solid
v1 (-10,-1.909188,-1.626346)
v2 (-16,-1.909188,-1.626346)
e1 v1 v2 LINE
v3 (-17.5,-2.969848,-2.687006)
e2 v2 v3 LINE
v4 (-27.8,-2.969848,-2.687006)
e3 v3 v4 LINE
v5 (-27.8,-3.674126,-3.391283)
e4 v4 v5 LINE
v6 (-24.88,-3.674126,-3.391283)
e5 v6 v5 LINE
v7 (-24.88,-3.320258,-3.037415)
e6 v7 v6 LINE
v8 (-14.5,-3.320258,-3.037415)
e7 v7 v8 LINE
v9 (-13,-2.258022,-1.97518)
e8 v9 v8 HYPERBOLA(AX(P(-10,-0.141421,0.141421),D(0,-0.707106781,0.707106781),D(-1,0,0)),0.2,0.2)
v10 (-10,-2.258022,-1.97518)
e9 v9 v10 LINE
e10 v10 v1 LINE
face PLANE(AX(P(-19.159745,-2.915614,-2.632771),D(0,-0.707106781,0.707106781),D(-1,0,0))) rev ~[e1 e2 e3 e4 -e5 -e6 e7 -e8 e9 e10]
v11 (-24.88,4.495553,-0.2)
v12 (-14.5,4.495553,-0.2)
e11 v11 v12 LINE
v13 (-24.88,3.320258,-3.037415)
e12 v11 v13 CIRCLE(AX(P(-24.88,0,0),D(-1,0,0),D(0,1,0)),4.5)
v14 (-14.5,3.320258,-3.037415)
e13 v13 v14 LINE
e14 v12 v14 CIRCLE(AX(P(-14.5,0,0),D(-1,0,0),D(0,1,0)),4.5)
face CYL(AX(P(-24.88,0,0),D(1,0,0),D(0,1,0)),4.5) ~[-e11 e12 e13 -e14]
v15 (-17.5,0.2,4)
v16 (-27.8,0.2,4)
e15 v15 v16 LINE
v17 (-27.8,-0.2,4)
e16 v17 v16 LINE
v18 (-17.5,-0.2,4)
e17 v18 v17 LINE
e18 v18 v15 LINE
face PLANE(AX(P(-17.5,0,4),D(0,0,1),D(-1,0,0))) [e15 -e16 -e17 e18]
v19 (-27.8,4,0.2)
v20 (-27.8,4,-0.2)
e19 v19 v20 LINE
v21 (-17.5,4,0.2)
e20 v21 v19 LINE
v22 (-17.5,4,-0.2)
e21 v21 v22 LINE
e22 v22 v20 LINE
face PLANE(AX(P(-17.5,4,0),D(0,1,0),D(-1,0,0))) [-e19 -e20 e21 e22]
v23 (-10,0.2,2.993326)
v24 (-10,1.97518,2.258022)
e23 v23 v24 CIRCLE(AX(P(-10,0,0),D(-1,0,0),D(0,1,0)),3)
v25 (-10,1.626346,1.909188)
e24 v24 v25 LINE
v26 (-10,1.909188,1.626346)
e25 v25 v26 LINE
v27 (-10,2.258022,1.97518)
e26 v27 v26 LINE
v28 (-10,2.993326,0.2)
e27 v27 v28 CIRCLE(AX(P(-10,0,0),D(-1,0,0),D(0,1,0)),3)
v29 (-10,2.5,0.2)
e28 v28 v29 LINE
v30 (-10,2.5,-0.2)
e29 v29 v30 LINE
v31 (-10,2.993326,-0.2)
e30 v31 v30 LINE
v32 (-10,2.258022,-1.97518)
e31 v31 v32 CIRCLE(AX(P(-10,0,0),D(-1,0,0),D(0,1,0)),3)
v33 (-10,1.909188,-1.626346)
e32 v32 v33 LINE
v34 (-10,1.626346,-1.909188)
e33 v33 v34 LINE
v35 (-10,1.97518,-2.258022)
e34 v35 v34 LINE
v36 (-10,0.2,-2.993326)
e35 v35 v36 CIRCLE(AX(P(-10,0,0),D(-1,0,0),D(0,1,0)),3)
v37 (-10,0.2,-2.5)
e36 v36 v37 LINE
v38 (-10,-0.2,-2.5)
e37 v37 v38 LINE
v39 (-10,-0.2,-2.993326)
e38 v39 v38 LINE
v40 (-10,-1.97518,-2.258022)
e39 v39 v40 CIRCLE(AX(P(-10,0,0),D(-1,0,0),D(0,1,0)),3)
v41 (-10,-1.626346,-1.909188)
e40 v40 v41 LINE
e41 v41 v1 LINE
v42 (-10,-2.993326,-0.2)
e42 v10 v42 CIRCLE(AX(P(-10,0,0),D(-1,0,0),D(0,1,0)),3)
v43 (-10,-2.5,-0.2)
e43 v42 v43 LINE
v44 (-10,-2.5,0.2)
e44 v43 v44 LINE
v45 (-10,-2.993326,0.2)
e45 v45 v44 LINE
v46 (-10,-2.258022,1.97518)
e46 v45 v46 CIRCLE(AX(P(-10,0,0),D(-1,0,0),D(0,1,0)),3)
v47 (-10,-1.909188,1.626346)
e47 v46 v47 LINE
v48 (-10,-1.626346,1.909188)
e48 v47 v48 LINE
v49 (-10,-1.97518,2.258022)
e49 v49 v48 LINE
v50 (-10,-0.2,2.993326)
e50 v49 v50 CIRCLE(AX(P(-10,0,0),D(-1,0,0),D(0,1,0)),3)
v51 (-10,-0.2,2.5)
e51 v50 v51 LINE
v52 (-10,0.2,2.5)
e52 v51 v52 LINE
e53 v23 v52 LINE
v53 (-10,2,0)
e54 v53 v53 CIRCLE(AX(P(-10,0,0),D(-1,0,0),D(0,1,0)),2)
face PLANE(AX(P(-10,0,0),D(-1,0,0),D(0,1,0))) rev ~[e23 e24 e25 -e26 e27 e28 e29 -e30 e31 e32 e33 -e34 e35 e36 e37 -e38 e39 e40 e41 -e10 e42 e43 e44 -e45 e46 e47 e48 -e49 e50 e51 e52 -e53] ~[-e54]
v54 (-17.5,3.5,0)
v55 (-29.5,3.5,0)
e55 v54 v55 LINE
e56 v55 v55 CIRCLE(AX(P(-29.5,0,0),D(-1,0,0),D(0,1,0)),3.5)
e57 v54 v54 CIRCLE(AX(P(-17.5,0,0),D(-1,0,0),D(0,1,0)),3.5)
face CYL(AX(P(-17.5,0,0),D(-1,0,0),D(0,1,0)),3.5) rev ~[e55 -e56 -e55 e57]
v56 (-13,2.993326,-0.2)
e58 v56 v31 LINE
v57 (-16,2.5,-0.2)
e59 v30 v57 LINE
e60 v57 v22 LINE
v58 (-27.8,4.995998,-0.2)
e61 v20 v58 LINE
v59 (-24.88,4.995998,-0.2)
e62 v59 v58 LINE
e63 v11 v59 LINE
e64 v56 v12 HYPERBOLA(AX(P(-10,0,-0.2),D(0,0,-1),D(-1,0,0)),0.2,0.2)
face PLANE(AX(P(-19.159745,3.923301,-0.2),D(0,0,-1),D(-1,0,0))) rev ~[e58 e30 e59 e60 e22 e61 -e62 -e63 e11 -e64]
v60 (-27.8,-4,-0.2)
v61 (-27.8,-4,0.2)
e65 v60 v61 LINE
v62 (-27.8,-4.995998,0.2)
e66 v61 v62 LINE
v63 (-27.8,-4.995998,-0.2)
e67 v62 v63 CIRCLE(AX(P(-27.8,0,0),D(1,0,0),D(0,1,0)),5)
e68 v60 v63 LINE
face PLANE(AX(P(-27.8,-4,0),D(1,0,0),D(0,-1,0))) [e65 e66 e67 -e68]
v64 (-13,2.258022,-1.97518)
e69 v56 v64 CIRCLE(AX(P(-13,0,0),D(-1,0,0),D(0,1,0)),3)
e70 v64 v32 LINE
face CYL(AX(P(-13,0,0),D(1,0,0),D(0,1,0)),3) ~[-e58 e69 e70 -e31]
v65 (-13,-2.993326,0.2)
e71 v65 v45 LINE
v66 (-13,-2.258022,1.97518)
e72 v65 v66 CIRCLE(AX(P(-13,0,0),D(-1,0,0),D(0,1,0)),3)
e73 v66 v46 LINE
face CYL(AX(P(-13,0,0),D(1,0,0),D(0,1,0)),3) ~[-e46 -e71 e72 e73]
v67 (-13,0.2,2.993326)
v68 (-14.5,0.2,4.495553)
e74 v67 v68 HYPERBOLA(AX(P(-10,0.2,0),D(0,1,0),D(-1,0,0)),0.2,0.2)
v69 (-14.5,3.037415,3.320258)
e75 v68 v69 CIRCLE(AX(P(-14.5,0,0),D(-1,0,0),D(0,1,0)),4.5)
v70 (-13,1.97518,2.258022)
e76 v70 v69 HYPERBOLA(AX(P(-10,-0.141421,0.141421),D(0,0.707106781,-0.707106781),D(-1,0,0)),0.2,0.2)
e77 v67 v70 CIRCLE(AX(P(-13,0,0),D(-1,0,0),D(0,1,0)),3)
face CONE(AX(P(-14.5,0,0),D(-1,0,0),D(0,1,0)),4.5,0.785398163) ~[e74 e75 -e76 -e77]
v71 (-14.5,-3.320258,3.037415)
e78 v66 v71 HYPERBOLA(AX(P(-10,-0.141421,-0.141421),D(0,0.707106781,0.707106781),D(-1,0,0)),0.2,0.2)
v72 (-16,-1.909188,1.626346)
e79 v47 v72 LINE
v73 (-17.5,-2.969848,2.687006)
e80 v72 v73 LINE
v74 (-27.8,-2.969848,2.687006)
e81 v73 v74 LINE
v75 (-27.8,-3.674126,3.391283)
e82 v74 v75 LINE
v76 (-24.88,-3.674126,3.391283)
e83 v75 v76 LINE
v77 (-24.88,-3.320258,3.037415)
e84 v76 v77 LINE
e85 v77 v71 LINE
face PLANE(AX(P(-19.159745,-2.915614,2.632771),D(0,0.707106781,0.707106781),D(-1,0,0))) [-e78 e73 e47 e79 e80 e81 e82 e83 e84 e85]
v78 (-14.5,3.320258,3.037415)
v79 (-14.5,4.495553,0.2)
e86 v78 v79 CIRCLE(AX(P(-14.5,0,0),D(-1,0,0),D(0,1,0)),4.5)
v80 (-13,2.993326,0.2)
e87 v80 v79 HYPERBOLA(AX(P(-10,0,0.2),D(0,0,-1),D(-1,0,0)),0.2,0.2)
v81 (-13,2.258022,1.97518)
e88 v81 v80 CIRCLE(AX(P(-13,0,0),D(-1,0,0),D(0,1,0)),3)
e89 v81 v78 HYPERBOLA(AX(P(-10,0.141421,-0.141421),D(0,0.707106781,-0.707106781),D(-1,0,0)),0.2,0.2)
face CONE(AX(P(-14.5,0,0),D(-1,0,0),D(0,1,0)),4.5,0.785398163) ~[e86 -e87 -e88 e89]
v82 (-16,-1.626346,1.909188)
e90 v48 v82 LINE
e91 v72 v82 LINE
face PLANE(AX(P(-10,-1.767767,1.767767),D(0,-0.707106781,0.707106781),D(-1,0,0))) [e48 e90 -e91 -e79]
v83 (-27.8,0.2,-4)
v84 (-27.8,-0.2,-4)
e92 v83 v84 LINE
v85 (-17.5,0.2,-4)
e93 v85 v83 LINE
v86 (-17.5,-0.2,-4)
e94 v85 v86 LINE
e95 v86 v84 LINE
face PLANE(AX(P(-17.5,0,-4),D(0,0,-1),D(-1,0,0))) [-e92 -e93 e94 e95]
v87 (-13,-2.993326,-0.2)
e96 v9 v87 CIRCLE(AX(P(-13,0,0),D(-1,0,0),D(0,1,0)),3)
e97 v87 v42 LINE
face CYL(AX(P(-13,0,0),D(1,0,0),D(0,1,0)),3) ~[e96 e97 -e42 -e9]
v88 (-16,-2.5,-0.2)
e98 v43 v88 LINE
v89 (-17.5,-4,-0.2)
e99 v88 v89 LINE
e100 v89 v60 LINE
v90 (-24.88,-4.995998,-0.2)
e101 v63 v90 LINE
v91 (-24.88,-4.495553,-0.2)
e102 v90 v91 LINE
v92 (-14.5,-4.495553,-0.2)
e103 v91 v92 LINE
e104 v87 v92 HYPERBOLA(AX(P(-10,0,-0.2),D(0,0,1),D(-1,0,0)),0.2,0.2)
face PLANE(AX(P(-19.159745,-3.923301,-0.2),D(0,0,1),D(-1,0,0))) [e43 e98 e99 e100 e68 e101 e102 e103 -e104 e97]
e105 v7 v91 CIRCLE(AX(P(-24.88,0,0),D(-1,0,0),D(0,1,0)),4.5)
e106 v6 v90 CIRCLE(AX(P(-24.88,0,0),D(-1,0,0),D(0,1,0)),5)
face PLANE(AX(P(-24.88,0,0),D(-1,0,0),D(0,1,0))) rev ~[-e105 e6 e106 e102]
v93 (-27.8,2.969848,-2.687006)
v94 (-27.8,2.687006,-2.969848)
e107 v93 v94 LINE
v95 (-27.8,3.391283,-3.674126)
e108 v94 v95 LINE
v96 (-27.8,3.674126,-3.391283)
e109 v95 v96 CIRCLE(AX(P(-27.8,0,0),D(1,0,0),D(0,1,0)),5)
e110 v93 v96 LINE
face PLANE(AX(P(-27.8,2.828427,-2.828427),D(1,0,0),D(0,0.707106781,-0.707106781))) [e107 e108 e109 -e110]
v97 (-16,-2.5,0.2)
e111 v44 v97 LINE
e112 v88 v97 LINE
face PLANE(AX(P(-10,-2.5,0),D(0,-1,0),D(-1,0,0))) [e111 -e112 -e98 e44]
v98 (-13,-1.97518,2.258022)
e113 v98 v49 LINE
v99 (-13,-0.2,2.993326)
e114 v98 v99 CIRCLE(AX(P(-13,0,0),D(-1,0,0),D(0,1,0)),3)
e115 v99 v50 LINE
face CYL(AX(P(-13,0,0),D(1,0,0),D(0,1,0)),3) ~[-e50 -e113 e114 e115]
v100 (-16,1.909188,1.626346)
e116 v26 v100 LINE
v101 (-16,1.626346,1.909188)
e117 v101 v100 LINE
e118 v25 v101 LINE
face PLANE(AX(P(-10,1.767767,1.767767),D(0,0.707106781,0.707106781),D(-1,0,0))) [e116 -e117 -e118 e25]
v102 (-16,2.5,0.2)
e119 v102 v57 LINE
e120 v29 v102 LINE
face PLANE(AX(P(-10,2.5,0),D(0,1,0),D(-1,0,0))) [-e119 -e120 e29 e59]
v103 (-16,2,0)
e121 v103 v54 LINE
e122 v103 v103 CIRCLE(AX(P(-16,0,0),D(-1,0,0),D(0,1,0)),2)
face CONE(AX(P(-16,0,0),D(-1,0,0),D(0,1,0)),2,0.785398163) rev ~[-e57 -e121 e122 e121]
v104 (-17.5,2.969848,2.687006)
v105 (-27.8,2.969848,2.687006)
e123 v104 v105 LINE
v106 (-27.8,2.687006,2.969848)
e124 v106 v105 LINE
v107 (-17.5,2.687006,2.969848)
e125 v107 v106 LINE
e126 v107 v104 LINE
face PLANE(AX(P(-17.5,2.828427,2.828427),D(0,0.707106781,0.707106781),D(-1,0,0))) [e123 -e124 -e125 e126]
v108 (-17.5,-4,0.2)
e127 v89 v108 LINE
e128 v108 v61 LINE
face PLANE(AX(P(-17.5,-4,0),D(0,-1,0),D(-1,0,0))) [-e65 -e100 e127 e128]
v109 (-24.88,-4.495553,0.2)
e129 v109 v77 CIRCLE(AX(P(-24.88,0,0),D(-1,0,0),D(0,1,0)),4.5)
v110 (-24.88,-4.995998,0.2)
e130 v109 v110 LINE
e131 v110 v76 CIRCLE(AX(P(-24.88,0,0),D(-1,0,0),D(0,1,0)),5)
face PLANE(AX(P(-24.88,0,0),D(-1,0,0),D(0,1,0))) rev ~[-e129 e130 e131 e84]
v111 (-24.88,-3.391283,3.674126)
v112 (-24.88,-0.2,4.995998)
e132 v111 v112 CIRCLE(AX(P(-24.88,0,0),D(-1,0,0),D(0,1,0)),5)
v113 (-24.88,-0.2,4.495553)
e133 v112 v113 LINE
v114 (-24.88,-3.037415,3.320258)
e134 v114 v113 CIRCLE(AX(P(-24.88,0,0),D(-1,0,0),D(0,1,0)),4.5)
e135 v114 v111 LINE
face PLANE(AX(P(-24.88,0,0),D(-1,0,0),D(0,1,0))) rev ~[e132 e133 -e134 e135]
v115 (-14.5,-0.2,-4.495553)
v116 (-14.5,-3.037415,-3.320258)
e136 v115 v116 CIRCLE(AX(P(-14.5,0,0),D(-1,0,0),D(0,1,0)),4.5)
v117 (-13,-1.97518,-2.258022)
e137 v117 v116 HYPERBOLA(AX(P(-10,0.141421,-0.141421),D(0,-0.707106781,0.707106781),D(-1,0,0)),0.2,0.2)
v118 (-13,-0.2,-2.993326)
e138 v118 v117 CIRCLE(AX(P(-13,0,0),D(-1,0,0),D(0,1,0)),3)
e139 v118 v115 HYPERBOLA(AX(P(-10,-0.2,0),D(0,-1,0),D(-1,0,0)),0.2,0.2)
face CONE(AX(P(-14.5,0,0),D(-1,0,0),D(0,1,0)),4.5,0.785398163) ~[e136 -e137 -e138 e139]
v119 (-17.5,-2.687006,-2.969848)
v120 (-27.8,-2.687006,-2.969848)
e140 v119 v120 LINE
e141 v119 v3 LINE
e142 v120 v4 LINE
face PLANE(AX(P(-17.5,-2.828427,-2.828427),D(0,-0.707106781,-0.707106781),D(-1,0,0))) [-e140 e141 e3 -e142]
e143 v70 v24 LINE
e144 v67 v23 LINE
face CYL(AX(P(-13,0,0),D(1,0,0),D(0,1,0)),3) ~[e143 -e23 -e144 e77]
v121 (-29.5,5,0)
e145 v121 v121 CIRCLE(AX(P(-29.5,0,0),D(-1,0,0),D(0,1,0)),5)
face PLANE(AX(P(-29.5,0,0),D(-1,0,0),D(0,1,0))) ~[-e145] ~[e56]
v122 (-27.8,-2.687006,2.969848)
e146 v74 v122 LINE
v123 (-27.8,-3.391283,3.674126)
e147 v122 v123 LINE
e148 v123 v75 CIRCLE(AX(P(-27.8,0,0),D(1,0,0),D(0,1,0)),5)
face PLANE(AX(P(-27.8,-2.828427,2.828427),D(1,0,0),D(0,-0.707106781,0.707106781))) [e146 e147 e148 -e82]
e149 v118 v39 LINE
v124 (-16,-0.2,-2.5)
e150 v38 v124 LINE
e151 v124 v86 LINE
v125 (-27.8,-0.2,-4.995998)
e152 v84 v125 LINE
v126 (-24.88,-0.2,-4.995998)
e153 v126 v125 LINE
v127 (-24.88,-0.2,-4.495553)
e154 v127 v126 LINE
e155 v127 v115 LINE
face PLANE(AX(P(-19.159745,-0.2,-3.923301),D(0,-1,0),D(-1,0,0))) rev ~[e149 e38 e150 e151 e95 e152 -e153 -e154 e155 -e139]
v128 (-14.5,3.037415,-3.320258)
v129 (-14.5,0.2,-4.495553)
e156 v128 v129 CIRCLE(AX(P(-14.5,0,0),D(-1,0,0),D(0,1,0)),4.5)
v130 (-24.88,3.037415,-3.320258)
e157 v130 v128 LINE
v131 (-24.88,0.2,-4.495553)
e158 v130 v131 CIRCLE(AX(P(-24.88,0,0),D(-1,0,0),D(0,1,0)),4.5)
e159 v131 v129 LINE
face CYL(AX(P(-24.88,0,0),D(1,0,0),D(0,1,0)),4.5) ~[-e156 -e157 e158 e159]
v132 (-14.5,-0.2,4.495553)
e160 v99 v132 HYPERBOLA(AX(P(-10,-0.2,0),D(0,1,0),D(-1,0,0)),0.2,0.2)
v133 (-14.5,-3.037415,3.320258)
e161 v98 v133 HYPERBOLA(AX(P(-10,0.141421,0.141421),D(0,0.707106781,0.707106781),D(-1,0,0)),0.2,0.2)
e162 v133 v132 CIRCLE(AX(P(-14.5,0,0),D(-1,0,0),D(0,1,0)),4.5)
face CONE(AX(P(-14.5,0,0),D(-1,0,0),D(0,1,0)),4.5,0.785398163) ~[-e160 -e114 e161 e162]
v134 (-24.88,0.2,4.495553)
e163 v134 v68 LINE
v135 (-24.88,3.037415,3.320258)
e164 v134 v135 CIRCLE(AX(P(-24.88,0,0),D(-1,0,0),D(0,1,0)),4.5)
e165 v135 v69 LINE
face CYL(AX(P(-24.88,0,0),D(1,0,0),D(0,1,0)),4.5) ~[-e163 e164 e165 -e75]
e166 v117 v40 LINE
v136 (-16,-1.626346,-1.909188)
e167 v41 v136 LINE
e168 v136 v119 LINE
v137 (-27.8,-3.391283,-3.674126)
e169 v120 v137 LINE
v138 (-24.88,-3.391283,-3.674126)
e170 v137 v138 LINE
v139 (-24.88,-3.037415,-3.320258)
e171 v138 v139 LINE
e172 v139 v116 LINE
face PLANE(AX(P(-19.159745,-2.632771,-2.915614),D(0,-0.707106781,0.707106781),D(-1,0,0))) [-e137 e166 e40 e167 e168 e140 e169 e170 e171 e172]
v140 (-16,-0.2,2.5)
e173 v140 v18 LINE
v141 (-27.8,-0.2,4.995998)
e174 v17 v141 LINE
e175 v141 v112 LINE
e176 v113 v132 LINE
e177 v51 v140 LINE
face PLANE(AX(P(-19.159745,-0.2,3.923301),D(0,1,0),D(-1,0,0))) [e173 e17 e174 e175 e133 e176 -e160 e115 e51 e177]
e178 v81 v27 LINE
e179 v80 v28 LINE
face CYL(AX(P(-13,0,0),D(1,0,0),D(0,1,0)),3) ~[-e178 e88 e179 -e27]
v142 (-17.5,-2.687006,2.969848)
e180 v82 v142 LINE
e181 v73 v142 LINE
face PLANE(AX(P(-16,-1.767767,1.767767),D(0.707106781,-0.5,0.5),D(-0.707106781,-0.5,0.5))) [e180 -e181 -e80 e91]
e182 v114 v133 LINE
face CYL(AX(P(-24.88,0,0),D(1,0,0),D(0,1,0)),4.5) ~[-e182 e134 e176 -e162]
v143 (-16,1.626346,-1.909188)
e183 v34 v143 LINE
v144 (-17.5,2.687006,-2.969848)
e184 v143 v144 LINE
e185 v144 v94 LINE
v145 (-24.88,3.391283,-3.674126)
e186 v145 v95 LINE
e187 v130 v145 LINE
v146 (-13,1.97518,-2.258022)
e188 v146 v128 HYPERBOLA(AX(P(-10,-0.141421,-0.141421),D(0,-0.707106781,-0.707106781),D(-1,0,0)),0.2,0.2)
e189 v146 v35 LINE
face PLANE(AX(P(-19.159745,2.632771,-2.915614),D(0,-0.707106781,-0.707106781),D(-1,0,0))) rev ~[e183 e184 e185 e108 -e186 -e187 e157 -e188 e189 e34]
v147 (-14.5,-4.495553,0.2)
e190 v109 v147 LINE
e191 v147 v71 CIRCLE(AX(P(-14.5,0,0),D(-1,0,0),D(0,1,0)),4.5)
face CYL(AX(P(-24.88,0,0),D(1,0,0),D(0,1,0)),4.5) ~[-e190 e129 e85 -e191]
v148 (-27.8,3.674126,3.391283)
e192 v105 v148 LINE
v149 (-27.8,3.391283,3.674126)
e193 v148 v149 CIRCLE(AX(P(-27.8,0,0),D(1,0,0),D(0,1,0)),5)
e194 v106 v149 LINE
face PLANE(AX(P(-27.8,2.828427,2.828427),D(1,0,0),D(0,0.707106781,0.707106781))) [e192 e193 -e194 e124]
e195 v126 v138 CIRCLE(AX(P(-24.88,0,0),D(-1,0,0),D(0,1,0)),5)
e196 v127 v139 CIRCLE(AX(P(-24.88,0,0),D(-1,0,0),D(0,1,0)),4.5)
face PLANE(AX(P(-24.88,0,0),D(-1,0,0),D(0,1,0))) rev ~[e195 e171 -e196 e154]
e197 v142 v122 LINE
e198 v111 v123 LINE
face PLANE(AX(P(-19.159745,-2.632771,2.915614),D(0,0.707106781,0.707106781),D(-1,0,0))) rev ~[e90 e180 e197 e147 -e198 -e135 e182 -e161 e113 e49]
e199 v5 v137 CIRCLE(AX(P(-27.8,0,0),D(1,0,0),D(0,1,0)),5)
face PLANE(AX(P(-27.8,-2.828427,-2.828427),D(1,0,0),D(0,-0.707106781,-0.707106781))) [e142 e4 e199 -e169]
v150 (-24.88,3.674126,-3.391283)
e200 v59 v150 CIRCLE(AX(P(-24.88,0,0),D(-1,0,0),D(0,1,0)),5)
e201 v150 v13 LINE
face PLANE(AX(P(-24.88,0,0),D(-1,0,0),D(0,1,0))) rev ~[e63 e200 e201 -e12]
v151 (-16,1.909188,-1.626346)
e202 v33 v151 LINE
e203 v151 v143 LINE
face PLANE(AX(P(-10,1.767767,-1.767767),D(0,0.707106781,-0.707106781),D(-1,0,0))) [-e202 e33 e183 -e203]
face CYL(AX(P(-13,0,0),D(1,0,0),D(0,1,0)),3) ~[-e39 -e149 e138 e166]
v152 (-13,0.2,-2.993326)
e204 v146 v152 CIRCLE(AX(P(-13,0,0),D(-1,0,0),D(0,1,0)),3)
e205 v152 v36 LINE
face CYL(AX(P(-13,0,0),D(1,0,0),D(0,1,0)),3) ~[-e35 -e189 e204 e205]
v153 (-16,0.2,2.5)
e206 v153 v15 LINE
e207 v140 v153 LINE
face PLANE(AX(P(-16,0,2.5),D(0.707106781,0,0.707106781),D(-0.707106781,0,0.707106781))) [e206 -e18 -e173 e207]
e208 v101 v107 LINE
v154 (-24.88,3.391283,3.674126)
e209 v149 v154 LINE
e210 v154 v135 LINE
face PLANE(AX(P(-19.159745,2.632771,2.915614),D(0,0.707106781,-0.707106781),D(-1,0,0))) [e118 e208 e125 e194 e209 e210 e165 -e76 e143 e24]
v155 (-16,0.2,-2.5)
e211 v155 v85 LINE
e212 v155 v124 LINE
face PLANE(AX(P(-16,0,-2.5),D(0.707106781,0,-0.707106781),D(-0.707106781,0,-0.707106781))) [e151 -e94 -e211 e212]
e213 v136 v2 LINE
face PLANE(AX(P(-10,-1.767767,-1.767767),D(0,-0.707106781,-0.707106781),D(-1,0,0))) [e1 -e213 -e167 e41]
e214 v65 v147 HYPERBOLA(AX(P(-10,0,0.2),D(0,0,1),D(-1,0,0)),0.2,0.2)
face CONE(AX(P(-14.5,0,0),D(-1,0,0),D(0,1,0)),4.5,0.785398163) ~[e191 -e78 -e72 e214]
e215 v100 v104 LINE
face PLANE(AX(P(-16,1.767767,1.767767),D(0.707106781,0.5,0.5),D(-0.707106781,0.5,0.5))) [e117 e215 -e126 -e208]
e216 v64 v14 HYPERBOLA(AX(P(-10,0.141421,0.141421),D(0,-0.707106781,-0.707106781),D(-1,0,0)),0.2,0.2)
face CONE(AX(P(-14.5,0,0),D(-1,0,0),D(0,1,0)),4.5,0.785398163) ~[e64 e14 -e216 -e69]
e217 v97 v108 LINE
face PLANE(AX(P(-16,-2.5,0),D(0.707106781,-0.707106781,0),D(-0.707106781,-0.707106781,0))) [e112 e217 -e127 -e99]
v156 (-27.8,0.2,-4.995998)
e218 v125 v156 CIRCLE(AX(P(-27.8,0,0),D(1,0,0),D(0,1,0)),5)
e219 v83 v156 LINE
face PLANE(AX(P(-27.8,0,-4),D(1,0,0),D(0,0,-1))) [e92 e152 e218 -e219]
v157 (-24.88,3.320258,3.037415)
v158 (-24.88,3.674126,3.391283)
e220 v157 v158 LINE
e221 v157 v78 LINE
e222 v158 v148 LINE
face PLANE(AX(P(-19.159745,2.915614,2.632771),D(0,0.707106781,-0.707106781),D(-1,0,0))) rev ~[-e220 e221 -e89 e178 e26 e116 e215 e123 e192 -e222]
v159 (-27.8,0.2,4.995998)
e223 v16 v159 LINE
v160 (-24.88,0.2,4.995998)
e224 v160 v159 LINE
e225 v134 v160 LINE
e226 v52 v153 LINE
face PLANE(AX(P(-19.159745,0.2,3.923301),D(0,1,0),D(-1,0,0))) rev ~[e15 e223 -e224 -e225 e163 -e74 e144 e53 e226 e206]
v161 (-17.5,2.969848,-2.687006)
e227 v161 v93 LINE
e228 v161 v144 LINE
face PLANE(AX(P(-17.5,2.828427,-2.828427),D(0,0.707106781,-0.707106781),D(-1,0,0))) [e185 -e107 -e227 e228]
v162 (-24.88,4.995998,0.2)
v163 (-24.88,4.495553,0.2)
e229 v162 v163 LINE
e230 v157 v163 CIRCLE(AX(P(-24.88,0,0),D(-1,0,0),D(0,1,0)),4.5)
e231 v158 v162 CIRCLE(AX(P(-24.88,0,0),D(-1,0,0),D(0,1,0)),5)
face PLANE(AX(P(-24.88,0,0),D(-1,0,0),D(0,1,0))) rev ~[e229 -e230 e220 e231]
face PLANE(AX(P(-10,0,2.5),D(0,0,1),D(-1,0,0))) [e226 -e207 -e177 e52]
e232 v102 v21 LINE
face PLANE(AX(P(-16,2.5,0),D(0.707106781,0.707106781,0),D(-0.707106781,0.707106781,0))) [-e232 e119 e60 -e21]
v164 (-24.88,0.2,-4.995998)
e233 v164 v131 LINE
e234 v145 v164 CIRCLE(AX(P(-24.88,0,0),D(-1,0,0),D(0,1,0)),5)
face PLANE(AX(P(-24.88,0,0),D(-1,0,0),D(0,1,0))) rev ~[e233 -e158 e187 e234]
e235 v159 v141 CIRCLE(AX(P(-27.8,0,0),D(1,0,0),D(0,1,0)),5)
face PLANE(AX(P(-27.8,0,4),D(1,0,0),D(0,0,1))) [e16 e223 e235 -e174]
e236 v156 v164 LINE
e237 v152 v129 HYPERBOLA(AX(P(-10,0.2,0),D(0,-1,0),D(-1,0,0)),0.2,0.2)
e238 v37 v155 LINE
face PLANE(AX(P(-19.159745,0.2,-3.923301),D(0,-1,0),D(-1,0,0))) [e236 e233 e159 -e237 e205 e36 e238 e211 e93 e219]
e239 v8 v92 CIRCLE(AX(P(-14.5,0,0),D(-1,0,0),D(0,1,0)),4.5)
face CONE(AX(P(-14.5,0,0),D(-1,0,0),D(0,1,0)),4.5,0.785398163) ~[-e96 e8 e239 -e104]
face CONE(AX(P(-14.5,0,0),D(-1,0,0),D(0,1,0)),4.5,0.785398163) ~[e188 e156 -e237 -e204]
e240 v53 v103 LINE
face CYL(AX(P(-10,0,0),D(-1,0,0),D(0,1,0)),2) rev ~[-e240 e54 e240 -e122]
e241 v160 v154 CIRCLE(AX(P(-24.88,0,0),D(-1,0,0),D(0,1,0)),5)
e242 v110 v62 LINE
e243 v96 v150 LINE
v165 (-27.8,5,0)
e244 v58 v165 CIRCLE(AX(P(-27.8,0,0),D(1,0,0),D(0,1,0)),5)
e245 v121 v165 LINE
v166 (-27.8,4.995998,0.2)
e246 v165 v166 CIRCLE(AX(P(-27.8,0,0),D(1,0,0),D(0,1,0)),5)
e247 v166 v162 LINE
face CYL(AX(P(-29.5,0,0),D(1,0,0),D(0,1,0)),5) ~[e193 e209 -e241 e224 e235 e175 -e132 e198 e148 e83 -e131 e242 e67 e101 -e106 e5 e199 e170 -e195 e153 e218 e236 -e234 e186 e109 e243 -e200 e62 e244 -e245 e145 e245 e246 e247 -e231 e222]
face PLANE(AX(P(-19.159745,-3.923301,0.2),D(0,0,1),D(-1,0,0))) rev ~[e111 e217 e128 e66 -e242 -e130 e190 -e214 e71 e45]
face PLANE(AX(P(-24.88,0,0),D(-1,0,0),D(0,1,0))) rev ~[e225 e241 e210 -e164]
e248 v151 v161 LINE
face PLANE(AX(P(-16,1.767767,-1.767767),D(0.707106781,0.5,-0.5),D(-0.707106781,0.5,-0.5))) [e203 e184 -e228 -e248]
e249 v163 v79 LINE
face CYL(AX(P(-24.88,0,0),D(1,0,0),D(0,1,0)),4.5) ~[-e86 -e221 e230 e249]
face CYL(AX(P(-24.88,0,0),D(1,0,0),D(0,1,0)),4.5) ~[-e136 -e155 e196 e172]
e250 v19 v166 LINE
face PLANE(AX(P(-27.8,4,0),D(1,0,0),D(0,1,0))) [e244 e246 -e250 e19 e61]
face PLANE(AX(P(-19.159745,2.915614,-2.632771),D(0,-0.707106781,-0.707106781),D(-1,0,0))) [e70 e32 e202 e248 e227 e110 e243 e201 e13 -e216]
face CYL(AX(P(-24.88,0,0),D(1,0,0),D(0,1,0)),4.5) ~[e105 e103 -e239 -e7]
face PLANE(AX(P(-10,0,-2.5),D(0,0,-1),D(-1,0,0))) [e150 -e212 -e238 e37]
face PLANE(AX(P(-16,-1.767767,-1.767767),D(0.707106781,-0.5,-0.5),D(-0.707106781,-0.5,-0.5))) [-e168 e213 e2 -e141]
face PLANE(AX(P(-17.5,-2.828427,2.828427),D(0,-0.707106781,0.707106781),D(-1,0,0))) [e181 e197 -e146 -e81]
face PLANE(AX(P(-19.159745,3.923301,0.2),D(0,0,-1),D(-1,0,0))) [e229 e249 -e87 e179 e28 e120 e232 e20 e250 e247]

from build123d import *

# Parameters (mm, degrees)
CUT_EXTRUDE2_DEPTH = 0.2
CIRPATTERN2_COUNT  = 8
SKETCH4_W          = 0.4
SKETCH4_H          = 0.75
CUT_EXTRUDE3_DEPTH = 1
CIRPATTERN3_COUNT  = 8


with BuildPart() as part:
    # Sketch1 → Revolve1 (revolve)
    with BuildSketch(Plane.XY):
        Polygon((-10, 3), (-10, 2), (-16, 2), (-17.5, 3.5), (-29.5, 3.5), (-29.5, 5), (-24.88, 5), (-24.88, 4.5), (-14.5, 4.5), (-13, 3), align=None)
    revolve(axis=Axis((0, 0, 0), (-1, 0, 0)))

    # Sketch3 → Cut-Extrude2 (cut, symmetric)
    with BuildSketch(Plane.XY):
        Polygon((-14.5, 4.5), (-13, 3), (-10, 3), (-10, 2.5), (-16, 2.5), (-17.5, 4), (-27.8, 4), (-27.8, 5.5), (-24.88457259, 5.5), (-24.88457259, 4.5), align=None)
    cut_extrude2 = extrude(amount=CUT_EXTRUDE2_DEPTH, both=True, mode=Mode.SUBTRACT)

    # CirPattern2: Cut-Extrude2 ×8 about axis
    cirpattern2_axis = Axis((-10, 0, 0), (1, 0, 0))
    for i in range(1, CIRPATTERN2_COUNT):
        add(cut_extrude2.rotate(cirpattern2_axis, i * 360 / CIRPATTERN2_COUNT), mode=Mode.SUBTRACT)

    # Sketch4 → Cut-Extrude3 (cut)
    with BuildSketch(Plane(origin=(-24.88, 0, 0), x_dir=(0, 0, -1), z_dir=(1, 0, 0))):
        with Locations((0, 4.872999199)):
            Rectangle(SKETCH4_W, SKETCH4_H)
    cut_extrude3 = extrude(amount=-CUT_EXTRUDE3_DEPTH, mode=Mode.SUBTRACT)

    # CirPattern3: Cut-Extrude3 ×8 about axis
    cirpattern3_axis = Axis((-24.88, 0, 0), (1, 0, 0))
    for i in range(1, CIRPATTERN3_COUNT):
        add(cut_extrude3.rotate(cirpattern3_axis, i * 360 / CIRPATTERN3_COUNT), mode=Mode.SUBTRACT)


solid = part.part
